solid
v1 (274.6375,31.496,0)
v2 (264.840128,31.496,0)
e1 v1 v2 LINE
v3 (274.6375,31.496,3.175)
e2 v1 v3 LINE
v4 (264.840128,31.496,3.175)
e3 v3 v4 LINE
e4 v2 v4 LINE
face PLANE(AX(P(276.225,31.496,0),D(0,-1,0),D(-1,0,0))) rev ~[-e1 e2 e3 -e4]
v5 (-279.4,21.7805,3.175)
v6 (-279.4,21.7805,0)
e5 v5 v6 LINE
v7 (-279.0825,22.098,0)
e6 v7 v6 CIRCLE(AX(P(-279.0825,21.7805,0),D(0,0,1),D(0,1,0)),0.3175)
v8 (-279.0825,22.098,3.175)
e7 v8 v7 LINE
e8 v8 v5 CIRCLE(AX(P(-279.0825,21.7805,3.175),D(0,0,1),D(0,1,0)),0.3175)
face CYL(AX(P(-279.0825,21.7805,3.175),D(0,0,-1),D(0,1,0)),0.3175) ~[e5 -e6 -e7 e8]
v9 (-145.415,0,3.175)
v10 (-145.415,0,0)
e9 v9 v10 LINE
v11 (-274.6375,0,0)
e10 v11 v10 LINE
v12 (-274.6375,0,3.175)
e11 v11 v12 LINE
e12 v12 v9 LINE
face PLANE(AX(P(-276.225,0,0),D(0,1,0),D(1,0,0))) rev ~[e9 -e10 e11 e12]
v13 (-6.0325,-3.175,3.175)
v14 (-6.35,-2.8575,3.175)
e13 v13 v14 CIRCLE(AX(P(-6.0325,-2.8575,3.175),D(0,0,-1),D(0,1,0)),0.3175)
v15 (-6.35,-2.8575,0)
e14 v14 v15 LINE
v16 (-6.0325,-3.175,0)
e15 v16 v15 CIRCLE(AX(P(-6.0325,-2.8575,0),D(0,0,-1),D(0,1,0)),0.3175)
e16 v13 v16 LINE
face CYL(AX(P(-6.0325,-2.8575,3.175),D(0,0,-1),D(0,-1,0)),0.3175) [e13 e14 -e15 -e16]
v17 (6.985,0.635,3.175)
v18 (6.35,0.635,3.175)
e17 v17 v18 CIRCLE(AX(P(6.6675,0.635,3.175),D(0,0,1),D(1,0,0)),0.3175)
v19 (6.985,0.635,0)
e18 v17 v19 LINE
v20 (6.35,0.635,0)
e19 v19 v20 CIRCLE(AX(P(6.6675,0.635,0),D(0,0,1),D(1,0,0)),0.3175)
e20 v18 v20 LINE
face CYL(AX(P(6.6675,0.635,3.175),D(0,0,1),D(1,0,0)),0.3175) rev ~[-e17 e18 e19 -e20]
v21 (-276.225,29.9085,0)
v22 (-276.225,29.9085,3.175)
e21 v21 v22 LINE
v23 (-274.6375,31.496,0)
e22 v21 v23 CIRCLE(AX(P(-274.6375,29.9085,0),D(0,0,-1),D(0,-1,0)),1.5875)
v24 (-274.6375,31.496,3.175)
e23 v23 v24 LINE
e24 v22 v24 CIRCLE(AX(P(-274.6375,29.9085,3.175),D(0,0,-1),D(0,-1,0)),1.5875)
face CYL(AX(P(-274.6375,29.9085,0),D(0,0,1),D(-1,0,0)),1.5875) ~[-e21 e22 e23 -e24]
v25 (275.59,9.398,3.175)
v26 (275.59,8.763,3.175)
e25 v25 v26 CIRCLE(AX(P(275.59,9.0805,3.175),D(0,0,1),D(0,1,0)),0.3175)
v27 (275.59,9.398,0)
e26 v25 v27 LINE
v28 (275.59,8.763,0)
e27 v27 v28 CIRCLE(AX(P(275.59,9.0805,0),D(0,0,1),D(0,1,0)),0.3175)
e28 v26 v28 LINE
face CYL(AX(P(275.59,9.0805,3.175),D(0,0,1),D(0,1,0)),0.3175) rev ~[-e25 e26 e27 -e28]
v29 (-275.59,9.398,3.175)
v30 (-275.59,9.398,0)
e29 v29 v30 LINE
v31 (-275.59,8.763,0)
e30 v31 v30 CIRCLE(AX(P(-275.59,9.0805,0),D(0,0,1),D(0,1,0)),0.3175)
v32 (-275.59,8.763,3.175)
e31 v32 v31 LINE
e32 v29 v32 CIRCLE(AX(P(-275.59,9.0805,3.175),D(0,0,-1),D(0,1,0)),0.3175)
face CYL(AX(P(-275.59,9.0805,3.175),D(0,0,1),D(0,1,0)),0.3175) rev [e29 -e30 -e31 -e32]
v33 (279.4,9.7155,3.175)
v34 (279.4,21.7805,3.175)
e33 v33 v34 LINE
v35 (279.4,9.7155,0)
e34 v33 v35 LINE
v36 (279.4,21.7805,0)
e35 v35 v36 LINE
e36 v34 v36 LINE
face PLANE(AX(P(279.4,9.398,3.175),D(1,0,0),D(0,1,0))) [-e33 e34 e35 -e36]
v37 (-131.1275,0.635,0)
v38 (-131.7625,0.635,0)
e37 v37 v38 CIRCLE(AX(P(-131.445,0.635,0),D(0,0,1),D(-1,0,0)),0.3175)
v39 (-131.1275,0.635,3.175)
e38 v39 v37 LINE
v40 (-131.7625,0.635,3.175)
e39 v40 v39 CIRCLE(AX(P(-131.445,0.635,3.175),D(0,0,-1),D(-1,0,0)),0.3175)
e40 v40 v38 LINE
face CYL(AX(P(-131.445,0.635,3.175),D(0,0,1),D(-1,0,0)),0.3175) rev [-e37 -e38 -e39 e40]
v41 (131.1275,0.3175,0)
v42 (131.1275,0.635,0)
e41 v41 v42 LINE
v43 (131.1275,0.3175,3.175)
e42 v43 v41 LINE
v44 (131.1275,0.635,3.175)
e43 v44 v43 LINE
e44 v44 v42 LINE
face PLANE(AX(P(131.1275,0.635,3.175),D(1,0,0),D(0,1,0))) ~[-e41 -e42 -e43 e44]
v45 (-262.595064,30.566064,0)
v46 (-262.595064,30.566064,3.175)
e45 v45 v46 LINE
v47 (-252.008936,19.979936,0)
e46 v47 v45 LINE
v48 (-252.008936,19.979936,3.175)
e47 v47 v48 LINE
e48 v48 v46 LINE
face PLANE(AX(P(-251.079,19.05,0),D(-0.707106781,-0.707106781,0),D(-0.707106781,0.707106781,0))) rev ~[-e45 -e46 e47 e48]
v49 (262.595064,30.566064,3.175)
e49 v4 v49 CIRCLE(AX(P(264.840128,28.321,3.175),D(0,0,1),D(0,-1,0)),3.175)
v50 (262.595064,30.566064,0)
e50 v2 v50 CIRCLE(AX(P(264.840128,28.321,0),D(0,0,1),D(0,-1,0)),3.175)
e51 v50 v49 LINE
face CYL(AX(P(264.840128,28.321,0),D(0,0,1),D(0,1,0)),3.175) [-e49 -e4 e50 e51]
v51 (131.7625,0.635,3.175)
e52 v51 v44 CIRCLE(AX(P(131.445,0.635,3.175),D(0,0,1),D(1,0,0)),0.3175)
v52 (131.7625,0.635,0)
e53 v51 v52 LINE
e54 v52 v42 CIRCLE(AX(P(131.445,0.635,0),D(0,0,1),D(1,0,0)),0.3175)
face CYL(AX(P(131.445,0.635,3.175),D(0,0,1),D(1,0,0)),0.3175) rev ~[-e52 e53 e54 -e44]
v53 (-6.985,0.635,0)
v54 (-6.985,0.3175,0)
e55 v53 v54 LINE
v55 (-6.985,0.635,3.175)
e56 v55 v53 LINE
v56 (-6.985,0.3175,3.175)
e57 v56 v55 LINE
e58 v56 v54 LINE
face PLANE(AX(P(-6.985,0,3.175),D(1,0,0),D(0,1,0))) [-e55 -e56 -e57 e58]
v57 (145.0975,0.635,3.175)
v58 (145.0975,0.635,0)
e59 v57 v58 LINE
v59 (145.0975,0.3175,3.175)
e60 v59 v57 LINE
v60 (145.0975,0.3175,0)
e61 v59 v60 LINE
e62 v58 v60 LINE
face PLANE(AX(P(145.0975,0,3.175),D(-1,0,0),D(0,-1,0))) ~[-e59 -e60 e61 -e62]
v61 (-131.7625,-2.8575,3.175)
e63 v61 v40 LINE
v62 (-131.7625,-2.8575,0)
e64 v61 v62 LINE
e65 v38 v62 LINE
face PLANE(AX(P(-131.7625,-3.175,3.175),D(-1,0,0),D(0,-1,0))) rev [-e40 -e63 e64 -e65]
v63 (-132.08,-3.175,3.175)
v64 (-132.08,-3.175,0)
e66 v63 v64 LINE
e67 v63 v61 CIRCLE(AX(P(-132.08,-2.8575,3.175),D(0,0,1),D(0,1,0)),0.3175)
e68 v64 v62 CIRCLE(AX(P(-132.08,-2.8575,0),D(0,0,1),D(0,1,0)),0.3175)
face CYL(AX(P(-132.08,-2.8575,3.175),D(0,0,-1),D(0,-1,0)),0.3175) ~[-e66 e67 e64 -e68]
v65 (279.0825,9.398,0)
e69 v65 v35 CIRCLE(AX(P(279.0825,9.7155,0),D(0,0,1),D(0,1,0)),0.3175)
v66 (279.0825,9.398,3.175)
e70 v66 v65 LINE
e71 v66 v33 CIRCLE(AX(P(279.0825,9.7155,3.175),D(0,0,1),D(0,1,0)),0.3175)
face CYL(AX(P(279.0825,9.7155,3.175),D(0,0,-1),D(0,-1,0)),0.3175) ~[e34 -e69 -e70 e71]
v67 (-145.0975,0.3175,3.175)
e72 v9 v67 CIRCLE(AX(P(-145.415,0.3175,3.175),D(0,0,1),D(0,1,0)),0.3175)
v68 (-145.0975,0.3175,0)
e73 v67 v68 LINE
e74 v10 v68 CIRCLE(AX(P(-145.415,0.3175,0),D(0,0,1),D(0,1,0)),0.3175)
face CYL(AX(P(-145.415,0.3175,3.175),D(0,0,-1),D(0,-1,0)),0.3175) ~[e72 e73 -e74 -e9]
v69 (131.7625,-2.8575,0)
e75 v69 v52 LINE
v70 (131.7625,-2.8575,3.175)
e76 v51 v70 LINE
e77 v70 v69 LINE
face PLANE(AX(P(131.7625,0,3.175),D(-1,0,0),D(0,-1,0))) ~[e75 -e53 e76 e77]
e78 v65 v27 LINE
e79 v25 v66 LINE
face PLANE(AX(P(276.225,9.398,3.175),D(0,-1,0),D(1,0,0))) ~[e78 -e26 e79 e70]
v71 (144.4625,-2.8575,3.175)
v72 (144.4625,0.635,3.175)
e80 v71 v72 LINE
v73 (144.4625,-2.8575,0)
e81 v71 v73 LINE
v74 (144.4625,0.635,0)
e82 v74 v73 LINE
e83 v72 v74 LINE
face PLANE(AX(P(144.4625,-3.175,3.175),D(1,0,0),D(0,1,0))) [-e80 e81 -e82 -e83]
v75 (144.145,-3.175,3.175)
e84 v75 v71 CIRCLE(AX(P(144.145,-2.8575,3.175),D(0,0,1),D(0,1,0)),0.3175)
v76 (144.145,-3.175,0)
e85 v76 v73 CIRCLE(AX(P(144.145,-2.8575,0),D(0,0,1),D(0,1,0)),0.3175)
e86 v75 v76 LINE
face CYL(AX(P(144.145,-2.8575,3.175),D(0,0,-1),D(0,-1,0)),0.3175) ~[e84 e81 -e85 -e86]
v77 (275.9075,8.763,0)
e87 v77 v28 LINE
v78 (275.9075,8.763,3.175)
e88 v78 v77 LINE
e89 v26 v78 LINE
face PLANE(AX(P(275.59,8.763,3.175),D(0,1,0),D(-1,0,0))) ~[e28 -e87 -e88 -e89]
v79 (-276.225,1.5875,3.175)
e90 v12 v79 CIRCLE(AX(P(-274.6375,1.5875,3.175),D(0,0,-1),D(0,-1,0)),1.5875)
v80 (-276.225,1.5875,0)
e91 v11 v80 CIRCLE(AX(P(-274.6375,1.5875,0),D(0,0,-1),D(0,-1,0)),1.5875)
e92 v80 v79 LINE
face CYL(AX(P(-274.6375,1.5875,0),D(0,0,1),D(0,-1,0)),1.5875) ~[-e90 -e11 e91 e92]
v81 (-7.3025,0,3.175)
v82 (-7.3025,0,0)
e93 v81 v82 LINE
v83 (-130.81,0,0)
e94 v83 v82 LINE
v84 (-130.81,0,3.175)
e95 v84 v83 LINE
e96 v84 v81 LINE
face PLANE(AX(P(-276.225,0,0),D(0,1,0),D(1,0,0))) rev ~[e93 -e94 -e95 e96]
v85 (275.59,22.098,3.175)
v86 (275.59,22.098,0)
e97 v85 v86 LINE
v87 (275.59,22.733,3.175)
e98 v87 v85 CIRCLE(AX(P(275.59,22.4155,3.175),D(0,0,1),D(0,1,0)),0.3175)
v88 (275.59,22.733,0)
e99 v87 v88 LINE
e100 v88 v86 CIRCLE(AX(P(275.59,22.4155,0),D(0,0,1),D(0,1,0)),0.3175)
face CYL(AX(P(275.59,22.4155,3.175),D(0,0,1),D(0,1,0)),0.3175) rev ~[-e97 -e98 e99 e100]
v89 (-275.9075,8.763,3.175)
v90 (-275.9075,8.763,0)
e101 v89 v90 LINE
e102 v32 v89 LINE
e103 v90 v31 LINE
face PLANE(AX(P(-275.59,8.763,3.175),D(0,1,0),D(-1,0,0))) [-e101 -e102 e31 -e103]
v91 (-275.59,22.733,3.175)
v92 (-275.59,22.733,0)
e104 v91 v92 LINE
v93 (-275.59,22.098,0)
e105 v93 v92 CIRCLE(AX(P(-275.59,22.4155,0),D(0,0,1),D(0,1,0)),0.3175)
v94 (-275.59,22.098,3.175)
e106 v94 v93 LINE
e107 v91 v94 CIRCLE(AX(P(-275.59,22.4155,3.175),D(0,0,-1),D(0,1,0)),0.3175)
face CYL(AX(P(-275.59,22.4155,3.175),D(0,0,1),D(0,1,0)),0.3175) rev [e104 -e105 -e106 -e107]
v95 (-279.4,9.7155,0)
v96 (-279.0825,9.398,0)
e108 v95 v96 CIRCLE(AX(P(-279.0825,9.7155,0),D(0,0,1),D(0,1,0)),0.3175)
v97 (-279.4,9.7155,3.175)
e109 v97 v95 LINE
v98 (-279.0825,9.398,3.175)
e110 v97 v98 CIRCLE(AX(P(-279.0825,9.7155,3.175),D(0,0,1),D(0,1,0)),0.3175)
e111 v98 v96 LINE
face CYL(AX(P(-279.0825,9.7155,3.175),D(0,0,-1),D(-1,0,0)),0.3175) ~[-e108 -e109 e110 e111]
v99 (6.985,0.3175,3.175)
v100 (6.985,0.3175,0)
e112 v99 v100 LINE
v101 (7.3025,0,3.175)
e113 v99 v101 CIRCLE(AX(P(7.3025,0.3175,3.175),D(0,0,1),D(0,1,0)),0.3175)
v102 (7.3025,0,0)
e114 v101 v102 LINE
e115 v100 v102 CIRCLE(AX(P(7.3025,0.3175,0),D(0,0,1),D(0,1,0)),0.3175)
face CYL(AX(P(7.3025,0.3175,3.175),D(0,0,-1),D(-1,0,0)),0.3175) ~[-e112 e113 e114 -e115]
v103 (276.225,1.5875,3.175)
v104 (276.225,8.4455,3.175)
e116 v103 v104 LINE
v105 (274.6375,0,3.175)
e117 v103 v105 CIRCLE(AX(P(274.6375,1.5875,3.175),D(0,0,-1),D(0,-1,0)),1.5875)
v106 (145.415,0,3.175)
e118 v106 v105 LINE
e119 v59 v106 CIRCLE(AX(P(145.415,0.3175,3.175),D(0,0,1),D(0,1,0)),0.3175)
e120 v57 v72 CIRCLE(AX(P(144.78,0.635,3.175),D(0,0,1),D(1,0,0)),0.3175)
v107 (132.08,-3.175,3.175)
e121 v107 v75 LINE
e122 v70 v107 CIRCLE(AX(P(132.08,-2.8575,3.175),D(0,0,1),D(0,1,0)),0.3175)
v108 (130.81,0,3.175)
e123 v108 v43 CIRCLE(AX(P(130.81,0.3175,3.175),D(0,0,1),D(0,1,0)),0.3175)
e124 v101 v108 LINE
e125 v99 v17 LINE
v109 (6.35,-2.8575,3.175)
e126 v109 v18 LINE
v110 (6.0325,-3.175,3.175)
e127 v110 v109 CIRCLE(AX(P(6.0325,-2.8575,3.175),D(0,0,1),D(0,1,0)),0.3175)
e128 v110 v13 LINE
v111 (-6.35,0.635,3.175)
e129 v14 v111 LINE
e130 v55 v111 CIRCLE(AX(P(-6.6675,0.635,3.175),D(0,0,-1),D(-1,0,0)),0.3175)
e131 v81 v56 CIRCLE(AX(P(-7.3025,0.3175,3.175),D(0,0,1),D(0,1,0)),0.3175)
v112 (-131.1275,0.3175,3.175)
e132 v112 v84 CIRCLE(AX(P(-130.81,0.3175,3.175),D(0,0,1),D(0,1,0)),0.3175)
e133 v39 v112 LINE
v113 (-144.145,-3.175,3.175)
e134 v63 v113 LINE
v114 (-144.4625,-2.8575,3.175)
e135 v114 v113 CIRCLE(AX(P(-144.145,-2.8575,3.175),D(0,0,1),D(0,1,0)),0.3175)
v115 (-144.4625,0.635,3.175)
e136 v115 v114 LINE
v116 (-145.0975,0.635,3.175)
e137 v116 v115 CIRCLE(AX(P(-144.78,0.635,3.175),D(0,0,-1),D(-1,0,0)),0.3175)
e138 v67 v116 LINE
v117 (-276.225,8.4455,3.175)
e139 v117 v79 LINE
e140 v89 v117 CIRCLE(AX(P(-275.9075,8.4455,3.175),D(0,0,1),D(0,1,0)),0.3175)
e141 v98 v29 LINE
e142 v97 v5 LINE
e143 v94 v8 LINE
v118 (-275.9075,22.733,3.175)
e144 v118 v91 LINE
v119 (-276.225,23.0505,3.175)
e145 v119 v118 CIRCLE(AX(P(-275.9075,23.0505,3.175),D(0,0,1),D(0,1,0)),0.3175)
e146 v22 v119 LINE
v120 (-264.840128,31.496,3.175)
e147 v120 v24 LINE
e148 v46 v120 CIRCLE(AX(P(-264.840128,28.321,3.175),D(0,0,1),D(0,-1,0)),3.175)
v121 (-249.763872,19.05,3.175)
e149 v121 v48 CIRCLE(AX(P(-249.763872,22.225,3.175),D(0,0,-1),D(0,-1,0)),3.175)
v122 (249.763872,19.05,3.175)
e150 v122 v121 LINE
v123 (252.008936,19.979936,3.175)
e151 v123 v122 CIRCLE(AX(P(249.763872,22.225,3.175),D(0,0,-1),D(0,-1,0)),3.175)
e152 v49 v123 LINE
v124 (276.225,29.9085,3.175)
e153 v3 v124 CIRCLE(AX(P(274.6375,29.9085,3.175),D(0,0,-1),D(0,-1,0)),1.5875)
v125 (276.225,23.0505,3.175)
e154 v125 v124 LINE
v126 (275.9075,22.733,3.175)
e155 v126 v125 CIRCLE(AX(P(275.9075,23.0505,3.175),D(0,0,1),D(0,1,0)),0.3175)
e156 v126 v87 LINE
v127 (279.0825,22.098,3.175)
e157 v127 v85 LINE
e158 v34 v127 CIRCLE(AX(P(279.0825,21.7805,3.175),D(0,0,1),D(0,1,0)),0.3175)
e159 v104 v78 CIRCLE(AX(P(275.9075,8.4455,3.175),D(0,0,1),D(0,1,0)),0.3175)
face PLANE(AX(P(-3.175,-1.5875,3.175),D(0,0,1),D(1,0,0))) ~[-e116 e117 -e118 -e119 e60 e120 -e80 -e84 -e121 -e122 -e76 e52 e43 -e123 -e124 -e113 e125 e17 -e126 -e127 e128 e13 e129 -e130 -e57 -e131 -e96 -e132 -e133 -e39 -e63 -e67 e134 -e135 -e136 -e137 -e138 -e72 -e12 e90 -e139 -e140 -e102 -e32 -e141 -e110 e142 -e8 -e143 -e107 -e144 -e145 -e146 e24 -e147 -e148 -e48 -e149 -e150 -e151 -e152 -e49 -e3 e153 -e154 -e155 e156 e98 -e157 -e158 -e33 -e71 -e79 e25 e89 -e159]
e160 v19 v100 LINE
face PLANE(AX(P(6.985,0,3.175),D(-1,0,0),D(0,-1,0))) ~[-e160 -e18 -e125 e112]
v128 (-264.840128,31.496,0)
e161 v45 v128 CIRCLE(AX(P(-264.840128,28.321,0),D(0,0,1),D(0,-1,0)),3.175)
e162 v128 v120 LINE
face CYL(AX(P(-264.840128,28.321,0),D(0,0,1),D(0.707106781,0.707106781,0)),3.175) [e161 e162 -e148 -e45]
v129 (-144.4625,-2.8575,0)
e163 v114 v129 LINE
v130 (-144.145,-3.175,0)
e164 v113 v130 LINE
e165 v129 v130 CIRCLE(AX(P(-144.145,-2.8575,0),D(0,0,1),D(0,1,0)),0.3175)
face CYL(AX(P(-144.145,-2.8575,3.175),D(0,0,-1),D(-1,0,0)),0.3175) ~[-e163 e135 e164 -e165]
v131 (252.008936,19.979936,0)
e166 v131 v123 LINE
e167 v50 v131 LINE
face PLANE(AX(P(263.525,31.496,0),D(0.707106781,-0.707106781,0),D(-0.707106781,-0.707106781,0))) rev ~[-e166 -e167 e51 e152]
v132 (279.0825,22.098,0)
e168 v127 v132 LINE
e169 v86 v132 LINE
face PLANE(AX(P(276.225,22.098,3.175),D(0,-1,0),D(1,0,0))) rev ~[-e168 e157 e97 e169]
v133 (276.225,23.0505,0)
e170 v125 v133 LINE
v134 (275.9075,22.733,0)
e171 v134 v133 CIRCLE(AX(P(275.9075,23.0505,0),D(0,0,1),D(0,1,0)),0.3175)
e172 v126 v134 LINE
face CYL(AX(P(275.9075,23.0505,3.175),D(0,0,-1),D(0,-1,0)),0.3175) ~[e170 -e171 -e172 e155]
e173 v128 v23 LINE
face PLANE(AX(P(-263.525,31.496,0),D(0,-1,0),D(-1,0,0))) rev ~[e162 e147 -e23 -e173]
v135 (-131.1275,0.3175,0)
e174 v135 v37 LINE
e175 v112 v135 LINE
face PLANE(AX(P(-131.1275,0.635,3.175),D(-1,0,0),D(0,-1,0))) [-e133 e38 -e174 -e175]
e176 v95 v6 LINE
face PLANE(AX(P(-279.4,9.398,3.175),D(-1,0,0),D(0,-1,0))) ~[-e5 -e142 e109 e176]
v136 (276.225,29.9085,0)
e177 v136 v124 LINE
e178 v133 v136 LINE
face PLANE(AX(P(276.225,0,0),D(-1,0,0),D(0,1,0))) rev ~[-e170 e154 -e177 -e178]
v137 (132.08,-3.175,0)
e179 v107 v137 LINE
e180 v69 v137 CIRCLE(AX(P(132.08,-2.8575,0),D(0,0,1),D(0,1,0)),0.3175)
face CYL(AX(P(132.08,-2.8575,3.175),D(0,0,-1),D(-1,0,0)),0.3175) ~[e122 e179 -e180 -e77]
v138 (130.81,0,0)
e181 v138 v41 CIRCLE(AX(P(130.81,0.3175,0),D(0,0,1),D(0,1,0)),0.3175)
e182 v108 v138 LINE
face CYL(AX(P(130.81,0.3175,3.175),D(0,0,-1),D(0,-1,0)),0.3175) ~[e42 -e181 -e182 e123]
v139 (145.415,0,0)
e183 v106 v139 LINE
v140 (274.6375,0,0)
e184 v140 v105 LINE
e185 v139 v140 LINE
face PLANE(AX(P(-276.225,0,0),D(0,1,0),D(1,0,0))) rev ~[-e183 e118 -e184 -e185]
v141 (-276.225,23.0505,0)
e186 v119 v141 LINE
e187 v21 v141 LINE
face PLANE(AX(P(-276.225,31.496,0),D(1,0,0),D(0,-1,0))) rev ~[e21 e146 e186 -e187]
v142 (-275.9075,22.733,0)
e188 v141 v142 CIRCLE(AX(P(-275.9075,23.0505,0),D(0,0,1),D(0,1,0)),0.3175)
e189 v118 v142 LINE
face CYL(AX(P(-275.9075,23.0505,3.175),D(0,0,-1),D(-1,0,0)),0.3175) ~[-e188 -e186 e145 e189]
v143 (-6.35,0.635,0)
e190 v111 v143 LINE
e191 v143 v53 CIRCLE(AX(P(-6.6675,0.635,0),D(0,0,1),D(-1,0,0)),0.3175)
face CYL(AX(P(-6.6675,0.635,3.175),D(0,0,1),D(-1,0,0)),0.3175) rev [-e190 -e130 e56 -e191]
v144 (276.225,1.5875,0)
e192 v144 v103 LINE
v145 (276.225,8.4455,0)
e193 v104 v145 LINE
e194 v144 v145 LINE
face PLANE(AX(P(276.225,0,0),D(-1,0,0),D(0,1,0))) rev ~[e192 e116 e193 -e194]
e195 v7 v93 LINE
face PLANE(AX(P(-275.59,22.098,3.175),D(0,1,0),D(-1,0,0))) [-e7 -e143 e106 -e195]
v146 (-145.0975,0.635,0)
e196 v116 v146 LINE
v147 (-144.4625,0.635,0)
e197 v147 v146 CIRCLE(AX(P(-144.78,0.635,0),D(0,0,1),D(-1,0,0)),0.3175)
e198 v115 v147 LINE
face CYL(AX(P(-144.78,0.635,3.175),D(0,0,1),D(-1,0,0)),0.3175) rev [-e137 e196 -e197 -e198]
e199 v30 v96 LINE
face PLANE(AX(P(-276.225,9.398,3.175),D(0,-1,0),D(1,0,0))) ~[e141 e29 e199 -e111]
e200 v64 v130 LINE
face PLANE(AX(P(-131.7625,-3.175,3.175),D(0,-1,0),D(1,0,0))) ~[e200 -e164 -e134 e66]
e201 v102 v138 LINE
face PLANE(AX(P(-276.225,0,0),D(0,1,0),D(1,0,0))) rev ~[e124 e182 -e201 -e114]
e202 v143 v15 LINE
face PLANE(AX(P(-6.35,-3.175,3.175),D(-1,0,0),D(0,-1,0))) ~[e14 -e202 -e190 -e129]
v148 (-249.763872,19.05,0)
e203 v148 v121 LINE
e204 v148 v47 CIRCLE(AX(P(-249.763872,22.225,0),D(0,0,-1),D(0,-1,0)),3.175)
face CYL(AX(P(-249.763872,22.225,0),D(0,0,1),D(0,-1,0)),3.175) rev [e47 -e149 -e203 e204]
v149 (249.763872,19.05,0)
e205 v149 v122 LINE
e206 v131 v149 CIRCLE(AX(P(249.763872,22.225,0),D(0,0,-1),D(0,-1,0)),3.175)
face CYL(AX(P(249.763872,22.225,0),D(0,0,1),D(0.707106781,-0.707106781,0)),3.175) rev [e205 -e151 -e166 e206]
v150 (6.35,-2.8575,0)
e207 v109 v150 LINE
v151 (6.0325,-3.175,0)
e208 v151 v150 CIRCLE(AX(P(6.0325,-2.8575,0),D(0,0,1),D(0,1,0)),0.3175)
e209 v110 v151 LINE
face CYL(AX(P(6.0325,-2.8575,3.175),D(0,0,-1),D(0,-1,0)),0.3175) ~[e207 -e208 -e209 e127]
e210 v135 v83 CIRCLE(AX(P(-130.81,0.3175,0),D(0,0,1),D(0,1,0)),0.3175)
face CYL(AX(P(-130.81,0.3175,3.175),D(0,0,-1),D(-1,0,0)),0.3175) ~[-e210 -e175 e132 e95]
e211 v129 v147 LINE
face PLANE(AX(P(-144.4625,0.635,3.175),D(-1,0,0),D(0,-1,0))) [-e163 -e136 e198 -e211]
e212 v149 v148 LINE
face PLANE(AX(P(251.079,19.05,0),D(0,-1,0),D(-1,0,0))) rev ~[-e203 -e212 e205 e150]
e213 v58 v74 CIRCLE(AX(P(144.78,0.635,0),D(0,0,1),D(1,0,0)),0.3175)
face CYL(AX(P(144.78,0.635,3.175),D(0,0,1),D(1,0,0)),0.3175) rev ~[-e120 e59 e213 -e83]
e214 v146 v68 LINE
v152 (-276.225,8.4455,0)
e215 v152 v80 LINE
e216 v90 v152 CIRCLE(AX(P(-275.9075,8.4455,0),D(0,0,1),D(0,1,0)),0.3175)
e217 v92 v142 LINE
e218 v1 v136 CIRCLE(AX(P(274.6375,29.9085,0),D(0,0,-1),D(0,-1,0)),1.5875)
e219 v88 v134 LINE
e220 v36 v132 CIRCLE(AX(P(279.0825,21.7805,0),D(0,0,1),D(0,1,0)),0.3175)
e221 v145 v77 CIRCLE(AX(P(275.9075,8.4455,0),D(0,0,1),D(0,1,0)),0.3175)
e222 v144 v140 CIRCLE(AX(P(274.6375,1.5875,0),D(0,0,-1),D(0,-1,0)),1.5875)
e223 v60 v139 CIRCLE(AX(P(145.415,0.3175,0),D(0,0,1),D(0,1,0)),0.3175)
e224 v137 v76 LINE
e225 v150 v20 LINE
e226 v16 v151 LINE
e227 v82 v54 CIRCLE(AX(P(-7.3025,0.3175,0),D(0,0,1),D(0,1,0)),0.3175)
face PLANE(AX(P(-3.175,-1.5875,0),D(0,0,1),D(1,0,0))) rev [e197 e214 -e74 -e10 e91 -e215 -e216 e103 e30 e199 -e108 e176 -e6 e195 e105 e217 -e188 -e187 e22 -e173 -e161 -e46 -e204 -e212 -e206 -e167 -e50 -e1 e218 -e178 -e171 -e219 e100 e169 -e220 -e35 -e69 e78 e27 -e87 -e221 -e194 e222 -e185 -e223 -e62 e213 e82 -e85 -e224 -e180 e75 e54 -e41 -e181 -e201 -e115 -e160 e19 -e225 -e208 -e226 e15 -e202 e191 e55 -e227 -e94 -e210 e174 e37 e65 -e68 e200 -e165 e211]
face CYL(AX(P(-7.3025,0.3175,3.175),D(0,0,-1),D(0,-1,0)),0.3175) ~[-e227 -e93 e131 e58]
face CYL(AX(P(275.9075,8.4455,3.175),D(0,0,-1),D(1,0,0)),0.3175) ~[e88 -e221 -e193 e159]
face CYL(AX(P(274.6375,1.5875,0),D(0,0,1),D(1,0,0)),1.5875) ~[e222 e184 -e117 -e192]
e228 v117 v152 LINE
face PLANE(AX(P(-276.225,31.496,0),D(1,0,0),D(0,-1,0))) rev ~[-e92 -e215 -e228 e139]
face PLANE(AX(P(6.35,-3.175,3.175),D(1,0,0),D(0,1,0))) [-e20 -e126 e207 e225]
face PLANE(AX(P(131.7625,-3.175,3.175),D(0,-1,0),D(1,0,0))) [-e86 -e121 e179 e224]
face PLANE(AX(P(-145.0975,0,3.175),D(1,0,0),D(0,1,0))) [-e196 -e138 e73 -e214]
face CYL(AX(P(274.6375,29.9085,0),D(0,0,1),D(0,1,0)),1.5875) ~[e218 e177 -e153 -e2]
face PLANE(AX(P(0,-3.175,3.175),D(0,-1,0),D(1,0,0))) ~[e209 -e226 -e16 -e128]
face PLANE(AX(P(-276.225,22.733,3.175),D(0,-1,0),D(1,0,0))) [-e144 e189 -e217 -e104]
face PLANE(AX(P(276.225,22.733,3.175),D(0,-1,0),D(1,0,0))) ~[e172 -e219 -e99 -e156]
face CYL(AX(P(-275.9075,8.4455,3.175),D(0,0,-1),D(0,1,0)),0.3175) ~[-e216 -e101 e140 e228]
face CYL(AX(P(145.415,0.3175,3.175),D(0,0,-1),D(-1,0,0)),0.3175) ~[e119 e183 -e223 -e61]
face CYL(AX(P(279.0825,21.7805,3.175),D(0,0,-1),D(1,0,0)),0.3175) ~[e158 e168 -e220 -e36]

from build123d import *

# Parameters (mm, degrees)
BOSS_EXTRUDE1_DEPTH = 3.175
FILLET1_R           = 3.175
FILLET2_R           = 1.5875
SKETCH3_W           = 3.175
SKETCH3_H           = 12.7
SKETCH3_W_2         = 12.7
SKETCH3_H_2         = 3.175
SKETCH3_W_3         = 6.35
BOSS_EXTRUDE2_DEPTH = 3.175
CUT_EXTRUDE1_DEPTH  = 282.187550651
FILLET3_R           = 0.3175


with BuildPart() as part:
    # Sketch1 → Boss-Extrude1 (new body)
    with BuildSketch(Plane.XY):
        Polygon((-276.225, 0), (276.225, 0), (276.225, 31.496), (263.525, 31.496), (251.079, 19.05), (-251.079, 19.05), (-263.525, 31.496), (-276.225, 31.496), align=None)
    extrude(amount=BOSS_EXTRUDE1_DEPTH)

    # Fillet1
    fillet1_edges = [part.edges().sort_by_distance(p)[0] for p in [
        (-263.525, 31.496, 1.5875),
        (-251.079, 19.05, 1.5875),
        (251.079, 19.05, 1.5875),
        (263.525, 31.496, 1.5875),
    ]]
    fillet(fillet1_edges, radius=FILLET1_R)

    # Fillet2
    fillet2_edges = [part.edges().sort_by_distance(p)[0] for p in [
        (-276.225, 31.496, 1.5875),
        (276.225, 31.496, 1.5875),
        (276.225, 0, 1.5875),
        (-276.225, 0, 1.5875),
    ]]
    fillet(fillet2_edges, radius=FILLET2_R)

    # Sketch3 → Boss-Extrude2 (add)
    with BuildSketch(Plane.XY.offset(3.175)):
        with Locations((277.8125, 15.748)):
            Rectangle(SKETCH3_W, SKETCH3_H)
        with Locations((138.1125, -1.5875)):
            Rectangle(SKETCH3_W_2, SKETCH3_H_2)
        with Locations((3.175, -1.5875)):
            Rectangle(SKETCH3_W_3, SKETCH3_H_2)
    boss_extrude2 = extrude(amount=-BOSS_EXTRUDE2_DEPTH)

    # Mirror1: Boss-Extrude2 across plane
    add(boss_extrude2.mirror(Plane(origin=(0, 0, 0), x_dir=(0, 0, 1), z_dir=(1, 0, 0))))

    # Sketch4 → Cut-Extrude1 (cut, through all)
    with BuildSketch(Plane.XY.offset(3.175)):
        with BuildLine():
            Line((-276.225, 22.733), (-275.59, 22.733))
            ThreePointArc((-275.59, 22.733), (-275.2725, 22.4155), (-275.59, 22.098))
            Line((-275.59, 22.098), (-276.225, 22.098))
            ThreePointArc((-276.225, 22.098), (-276.5425, 22.4155), (-276.225, 22.733))
        make_face()
        with BuildLine():
            Line((-276.225, 9.398), (-275.59, 9.398))
            ThreePointArc((-275.59, 9.398), (-275.2725, 9.0805), (-275.59, 8.763))
            Line((-275.59, 8.763), (-276.225, 8.763))
            ThreePointArc((-276.225, 8.763), (-276.5425, 9.0805), (-276.225, 9.398))
        make_face()
        with BuildLine():
            Line((-145.0975, 0), (-145.0975, 0.635))
            ThreePointArc((-145.0975, 0.635), (-144.78, 0.9525), (-144.4625, 0.635))
            Line((-144.4625, 0.635), (-144.4625, 0))
            ThreePointArc((-144.4625, 0), (-144.78, -0.3175), (-145.0975, 0))
        make_face()
        with BuildLine():
            Line((-131.1275, 0.635), (-131.1275, 0))
            ThreePointArc((-131.1275, 0), (-131.445, -0.3175), (-131.7625, 0))
            Line((-131.7625, 0), (-131.7625, 0.635))
            ThreePointArc((-131.7625, 0.635), (-131.445, 0.9525), (-131.1275, 0.635))
        make_face()
        with BuildLine():
            Line((-6.985, 0), (-6.985, 0.635))
            ThreePointArc((-6.985, 0.635), (-6.6675, 0.9525), (-6.35, 0.635))
            Line((-6.35, 0.635), (-6.35, 0))
            ThreePointArc((-6.35, 0), (-6.6675, -0.3175), (-6.985, 0))
        make_face()
    cut_extrude1 = extrude(amount=-CUT_EXTRUDE1_DEPTH, mode=Mode.SUBTRACT)

    # Mirror2: Cut-Extrude1 across plane
    add(cut_extrude1.mirror(Plane(origin=(0, 0, 0), x_dir=(0, 0, 1), z_dir=(1, 0, 0))), mode=Mode.SUBTRACT)

    # Fillet3
    fillet3_edges = [part.edges().sort_by_distance(p)[0] for p in [
        (-279.4, 22.098, 1.5875),
        (-279.4, 9.398, 1.5875),
        (-144.4625, -3.175, 1.5875),
        (-131.7625, -3.175, 1.5875),
        (-6.35, -3.175, 1.5875),
        (-276.225, 22.733, 1.5875),
        (-276.225, 8.763, 1.5875),
        (-145.0975, 0, 1.5875),
        (-131.1275, 0, 1.5875),
        (-6.985, 0, 1.5875),
        (276.225, 22.733, 1.5875),
        (276.225, 8.763, 1.5875),
        (145.0975, 0, 1.5875),
        (131.1275, 0, 1.5875),
        (6.985, 0, 1.5875),
        (279.4, 22.098, 1.5875),
        (279.4, 9.398, 1.5875),
        (131.7625, -3.175, 1.5875),
        (144.4625, -3.175, 1.5875),
        (6.35, -3.175, 1.5875),
    ]]
    fillet(fillet3_edges, radius=FILLET3_R)


solid = part.part
